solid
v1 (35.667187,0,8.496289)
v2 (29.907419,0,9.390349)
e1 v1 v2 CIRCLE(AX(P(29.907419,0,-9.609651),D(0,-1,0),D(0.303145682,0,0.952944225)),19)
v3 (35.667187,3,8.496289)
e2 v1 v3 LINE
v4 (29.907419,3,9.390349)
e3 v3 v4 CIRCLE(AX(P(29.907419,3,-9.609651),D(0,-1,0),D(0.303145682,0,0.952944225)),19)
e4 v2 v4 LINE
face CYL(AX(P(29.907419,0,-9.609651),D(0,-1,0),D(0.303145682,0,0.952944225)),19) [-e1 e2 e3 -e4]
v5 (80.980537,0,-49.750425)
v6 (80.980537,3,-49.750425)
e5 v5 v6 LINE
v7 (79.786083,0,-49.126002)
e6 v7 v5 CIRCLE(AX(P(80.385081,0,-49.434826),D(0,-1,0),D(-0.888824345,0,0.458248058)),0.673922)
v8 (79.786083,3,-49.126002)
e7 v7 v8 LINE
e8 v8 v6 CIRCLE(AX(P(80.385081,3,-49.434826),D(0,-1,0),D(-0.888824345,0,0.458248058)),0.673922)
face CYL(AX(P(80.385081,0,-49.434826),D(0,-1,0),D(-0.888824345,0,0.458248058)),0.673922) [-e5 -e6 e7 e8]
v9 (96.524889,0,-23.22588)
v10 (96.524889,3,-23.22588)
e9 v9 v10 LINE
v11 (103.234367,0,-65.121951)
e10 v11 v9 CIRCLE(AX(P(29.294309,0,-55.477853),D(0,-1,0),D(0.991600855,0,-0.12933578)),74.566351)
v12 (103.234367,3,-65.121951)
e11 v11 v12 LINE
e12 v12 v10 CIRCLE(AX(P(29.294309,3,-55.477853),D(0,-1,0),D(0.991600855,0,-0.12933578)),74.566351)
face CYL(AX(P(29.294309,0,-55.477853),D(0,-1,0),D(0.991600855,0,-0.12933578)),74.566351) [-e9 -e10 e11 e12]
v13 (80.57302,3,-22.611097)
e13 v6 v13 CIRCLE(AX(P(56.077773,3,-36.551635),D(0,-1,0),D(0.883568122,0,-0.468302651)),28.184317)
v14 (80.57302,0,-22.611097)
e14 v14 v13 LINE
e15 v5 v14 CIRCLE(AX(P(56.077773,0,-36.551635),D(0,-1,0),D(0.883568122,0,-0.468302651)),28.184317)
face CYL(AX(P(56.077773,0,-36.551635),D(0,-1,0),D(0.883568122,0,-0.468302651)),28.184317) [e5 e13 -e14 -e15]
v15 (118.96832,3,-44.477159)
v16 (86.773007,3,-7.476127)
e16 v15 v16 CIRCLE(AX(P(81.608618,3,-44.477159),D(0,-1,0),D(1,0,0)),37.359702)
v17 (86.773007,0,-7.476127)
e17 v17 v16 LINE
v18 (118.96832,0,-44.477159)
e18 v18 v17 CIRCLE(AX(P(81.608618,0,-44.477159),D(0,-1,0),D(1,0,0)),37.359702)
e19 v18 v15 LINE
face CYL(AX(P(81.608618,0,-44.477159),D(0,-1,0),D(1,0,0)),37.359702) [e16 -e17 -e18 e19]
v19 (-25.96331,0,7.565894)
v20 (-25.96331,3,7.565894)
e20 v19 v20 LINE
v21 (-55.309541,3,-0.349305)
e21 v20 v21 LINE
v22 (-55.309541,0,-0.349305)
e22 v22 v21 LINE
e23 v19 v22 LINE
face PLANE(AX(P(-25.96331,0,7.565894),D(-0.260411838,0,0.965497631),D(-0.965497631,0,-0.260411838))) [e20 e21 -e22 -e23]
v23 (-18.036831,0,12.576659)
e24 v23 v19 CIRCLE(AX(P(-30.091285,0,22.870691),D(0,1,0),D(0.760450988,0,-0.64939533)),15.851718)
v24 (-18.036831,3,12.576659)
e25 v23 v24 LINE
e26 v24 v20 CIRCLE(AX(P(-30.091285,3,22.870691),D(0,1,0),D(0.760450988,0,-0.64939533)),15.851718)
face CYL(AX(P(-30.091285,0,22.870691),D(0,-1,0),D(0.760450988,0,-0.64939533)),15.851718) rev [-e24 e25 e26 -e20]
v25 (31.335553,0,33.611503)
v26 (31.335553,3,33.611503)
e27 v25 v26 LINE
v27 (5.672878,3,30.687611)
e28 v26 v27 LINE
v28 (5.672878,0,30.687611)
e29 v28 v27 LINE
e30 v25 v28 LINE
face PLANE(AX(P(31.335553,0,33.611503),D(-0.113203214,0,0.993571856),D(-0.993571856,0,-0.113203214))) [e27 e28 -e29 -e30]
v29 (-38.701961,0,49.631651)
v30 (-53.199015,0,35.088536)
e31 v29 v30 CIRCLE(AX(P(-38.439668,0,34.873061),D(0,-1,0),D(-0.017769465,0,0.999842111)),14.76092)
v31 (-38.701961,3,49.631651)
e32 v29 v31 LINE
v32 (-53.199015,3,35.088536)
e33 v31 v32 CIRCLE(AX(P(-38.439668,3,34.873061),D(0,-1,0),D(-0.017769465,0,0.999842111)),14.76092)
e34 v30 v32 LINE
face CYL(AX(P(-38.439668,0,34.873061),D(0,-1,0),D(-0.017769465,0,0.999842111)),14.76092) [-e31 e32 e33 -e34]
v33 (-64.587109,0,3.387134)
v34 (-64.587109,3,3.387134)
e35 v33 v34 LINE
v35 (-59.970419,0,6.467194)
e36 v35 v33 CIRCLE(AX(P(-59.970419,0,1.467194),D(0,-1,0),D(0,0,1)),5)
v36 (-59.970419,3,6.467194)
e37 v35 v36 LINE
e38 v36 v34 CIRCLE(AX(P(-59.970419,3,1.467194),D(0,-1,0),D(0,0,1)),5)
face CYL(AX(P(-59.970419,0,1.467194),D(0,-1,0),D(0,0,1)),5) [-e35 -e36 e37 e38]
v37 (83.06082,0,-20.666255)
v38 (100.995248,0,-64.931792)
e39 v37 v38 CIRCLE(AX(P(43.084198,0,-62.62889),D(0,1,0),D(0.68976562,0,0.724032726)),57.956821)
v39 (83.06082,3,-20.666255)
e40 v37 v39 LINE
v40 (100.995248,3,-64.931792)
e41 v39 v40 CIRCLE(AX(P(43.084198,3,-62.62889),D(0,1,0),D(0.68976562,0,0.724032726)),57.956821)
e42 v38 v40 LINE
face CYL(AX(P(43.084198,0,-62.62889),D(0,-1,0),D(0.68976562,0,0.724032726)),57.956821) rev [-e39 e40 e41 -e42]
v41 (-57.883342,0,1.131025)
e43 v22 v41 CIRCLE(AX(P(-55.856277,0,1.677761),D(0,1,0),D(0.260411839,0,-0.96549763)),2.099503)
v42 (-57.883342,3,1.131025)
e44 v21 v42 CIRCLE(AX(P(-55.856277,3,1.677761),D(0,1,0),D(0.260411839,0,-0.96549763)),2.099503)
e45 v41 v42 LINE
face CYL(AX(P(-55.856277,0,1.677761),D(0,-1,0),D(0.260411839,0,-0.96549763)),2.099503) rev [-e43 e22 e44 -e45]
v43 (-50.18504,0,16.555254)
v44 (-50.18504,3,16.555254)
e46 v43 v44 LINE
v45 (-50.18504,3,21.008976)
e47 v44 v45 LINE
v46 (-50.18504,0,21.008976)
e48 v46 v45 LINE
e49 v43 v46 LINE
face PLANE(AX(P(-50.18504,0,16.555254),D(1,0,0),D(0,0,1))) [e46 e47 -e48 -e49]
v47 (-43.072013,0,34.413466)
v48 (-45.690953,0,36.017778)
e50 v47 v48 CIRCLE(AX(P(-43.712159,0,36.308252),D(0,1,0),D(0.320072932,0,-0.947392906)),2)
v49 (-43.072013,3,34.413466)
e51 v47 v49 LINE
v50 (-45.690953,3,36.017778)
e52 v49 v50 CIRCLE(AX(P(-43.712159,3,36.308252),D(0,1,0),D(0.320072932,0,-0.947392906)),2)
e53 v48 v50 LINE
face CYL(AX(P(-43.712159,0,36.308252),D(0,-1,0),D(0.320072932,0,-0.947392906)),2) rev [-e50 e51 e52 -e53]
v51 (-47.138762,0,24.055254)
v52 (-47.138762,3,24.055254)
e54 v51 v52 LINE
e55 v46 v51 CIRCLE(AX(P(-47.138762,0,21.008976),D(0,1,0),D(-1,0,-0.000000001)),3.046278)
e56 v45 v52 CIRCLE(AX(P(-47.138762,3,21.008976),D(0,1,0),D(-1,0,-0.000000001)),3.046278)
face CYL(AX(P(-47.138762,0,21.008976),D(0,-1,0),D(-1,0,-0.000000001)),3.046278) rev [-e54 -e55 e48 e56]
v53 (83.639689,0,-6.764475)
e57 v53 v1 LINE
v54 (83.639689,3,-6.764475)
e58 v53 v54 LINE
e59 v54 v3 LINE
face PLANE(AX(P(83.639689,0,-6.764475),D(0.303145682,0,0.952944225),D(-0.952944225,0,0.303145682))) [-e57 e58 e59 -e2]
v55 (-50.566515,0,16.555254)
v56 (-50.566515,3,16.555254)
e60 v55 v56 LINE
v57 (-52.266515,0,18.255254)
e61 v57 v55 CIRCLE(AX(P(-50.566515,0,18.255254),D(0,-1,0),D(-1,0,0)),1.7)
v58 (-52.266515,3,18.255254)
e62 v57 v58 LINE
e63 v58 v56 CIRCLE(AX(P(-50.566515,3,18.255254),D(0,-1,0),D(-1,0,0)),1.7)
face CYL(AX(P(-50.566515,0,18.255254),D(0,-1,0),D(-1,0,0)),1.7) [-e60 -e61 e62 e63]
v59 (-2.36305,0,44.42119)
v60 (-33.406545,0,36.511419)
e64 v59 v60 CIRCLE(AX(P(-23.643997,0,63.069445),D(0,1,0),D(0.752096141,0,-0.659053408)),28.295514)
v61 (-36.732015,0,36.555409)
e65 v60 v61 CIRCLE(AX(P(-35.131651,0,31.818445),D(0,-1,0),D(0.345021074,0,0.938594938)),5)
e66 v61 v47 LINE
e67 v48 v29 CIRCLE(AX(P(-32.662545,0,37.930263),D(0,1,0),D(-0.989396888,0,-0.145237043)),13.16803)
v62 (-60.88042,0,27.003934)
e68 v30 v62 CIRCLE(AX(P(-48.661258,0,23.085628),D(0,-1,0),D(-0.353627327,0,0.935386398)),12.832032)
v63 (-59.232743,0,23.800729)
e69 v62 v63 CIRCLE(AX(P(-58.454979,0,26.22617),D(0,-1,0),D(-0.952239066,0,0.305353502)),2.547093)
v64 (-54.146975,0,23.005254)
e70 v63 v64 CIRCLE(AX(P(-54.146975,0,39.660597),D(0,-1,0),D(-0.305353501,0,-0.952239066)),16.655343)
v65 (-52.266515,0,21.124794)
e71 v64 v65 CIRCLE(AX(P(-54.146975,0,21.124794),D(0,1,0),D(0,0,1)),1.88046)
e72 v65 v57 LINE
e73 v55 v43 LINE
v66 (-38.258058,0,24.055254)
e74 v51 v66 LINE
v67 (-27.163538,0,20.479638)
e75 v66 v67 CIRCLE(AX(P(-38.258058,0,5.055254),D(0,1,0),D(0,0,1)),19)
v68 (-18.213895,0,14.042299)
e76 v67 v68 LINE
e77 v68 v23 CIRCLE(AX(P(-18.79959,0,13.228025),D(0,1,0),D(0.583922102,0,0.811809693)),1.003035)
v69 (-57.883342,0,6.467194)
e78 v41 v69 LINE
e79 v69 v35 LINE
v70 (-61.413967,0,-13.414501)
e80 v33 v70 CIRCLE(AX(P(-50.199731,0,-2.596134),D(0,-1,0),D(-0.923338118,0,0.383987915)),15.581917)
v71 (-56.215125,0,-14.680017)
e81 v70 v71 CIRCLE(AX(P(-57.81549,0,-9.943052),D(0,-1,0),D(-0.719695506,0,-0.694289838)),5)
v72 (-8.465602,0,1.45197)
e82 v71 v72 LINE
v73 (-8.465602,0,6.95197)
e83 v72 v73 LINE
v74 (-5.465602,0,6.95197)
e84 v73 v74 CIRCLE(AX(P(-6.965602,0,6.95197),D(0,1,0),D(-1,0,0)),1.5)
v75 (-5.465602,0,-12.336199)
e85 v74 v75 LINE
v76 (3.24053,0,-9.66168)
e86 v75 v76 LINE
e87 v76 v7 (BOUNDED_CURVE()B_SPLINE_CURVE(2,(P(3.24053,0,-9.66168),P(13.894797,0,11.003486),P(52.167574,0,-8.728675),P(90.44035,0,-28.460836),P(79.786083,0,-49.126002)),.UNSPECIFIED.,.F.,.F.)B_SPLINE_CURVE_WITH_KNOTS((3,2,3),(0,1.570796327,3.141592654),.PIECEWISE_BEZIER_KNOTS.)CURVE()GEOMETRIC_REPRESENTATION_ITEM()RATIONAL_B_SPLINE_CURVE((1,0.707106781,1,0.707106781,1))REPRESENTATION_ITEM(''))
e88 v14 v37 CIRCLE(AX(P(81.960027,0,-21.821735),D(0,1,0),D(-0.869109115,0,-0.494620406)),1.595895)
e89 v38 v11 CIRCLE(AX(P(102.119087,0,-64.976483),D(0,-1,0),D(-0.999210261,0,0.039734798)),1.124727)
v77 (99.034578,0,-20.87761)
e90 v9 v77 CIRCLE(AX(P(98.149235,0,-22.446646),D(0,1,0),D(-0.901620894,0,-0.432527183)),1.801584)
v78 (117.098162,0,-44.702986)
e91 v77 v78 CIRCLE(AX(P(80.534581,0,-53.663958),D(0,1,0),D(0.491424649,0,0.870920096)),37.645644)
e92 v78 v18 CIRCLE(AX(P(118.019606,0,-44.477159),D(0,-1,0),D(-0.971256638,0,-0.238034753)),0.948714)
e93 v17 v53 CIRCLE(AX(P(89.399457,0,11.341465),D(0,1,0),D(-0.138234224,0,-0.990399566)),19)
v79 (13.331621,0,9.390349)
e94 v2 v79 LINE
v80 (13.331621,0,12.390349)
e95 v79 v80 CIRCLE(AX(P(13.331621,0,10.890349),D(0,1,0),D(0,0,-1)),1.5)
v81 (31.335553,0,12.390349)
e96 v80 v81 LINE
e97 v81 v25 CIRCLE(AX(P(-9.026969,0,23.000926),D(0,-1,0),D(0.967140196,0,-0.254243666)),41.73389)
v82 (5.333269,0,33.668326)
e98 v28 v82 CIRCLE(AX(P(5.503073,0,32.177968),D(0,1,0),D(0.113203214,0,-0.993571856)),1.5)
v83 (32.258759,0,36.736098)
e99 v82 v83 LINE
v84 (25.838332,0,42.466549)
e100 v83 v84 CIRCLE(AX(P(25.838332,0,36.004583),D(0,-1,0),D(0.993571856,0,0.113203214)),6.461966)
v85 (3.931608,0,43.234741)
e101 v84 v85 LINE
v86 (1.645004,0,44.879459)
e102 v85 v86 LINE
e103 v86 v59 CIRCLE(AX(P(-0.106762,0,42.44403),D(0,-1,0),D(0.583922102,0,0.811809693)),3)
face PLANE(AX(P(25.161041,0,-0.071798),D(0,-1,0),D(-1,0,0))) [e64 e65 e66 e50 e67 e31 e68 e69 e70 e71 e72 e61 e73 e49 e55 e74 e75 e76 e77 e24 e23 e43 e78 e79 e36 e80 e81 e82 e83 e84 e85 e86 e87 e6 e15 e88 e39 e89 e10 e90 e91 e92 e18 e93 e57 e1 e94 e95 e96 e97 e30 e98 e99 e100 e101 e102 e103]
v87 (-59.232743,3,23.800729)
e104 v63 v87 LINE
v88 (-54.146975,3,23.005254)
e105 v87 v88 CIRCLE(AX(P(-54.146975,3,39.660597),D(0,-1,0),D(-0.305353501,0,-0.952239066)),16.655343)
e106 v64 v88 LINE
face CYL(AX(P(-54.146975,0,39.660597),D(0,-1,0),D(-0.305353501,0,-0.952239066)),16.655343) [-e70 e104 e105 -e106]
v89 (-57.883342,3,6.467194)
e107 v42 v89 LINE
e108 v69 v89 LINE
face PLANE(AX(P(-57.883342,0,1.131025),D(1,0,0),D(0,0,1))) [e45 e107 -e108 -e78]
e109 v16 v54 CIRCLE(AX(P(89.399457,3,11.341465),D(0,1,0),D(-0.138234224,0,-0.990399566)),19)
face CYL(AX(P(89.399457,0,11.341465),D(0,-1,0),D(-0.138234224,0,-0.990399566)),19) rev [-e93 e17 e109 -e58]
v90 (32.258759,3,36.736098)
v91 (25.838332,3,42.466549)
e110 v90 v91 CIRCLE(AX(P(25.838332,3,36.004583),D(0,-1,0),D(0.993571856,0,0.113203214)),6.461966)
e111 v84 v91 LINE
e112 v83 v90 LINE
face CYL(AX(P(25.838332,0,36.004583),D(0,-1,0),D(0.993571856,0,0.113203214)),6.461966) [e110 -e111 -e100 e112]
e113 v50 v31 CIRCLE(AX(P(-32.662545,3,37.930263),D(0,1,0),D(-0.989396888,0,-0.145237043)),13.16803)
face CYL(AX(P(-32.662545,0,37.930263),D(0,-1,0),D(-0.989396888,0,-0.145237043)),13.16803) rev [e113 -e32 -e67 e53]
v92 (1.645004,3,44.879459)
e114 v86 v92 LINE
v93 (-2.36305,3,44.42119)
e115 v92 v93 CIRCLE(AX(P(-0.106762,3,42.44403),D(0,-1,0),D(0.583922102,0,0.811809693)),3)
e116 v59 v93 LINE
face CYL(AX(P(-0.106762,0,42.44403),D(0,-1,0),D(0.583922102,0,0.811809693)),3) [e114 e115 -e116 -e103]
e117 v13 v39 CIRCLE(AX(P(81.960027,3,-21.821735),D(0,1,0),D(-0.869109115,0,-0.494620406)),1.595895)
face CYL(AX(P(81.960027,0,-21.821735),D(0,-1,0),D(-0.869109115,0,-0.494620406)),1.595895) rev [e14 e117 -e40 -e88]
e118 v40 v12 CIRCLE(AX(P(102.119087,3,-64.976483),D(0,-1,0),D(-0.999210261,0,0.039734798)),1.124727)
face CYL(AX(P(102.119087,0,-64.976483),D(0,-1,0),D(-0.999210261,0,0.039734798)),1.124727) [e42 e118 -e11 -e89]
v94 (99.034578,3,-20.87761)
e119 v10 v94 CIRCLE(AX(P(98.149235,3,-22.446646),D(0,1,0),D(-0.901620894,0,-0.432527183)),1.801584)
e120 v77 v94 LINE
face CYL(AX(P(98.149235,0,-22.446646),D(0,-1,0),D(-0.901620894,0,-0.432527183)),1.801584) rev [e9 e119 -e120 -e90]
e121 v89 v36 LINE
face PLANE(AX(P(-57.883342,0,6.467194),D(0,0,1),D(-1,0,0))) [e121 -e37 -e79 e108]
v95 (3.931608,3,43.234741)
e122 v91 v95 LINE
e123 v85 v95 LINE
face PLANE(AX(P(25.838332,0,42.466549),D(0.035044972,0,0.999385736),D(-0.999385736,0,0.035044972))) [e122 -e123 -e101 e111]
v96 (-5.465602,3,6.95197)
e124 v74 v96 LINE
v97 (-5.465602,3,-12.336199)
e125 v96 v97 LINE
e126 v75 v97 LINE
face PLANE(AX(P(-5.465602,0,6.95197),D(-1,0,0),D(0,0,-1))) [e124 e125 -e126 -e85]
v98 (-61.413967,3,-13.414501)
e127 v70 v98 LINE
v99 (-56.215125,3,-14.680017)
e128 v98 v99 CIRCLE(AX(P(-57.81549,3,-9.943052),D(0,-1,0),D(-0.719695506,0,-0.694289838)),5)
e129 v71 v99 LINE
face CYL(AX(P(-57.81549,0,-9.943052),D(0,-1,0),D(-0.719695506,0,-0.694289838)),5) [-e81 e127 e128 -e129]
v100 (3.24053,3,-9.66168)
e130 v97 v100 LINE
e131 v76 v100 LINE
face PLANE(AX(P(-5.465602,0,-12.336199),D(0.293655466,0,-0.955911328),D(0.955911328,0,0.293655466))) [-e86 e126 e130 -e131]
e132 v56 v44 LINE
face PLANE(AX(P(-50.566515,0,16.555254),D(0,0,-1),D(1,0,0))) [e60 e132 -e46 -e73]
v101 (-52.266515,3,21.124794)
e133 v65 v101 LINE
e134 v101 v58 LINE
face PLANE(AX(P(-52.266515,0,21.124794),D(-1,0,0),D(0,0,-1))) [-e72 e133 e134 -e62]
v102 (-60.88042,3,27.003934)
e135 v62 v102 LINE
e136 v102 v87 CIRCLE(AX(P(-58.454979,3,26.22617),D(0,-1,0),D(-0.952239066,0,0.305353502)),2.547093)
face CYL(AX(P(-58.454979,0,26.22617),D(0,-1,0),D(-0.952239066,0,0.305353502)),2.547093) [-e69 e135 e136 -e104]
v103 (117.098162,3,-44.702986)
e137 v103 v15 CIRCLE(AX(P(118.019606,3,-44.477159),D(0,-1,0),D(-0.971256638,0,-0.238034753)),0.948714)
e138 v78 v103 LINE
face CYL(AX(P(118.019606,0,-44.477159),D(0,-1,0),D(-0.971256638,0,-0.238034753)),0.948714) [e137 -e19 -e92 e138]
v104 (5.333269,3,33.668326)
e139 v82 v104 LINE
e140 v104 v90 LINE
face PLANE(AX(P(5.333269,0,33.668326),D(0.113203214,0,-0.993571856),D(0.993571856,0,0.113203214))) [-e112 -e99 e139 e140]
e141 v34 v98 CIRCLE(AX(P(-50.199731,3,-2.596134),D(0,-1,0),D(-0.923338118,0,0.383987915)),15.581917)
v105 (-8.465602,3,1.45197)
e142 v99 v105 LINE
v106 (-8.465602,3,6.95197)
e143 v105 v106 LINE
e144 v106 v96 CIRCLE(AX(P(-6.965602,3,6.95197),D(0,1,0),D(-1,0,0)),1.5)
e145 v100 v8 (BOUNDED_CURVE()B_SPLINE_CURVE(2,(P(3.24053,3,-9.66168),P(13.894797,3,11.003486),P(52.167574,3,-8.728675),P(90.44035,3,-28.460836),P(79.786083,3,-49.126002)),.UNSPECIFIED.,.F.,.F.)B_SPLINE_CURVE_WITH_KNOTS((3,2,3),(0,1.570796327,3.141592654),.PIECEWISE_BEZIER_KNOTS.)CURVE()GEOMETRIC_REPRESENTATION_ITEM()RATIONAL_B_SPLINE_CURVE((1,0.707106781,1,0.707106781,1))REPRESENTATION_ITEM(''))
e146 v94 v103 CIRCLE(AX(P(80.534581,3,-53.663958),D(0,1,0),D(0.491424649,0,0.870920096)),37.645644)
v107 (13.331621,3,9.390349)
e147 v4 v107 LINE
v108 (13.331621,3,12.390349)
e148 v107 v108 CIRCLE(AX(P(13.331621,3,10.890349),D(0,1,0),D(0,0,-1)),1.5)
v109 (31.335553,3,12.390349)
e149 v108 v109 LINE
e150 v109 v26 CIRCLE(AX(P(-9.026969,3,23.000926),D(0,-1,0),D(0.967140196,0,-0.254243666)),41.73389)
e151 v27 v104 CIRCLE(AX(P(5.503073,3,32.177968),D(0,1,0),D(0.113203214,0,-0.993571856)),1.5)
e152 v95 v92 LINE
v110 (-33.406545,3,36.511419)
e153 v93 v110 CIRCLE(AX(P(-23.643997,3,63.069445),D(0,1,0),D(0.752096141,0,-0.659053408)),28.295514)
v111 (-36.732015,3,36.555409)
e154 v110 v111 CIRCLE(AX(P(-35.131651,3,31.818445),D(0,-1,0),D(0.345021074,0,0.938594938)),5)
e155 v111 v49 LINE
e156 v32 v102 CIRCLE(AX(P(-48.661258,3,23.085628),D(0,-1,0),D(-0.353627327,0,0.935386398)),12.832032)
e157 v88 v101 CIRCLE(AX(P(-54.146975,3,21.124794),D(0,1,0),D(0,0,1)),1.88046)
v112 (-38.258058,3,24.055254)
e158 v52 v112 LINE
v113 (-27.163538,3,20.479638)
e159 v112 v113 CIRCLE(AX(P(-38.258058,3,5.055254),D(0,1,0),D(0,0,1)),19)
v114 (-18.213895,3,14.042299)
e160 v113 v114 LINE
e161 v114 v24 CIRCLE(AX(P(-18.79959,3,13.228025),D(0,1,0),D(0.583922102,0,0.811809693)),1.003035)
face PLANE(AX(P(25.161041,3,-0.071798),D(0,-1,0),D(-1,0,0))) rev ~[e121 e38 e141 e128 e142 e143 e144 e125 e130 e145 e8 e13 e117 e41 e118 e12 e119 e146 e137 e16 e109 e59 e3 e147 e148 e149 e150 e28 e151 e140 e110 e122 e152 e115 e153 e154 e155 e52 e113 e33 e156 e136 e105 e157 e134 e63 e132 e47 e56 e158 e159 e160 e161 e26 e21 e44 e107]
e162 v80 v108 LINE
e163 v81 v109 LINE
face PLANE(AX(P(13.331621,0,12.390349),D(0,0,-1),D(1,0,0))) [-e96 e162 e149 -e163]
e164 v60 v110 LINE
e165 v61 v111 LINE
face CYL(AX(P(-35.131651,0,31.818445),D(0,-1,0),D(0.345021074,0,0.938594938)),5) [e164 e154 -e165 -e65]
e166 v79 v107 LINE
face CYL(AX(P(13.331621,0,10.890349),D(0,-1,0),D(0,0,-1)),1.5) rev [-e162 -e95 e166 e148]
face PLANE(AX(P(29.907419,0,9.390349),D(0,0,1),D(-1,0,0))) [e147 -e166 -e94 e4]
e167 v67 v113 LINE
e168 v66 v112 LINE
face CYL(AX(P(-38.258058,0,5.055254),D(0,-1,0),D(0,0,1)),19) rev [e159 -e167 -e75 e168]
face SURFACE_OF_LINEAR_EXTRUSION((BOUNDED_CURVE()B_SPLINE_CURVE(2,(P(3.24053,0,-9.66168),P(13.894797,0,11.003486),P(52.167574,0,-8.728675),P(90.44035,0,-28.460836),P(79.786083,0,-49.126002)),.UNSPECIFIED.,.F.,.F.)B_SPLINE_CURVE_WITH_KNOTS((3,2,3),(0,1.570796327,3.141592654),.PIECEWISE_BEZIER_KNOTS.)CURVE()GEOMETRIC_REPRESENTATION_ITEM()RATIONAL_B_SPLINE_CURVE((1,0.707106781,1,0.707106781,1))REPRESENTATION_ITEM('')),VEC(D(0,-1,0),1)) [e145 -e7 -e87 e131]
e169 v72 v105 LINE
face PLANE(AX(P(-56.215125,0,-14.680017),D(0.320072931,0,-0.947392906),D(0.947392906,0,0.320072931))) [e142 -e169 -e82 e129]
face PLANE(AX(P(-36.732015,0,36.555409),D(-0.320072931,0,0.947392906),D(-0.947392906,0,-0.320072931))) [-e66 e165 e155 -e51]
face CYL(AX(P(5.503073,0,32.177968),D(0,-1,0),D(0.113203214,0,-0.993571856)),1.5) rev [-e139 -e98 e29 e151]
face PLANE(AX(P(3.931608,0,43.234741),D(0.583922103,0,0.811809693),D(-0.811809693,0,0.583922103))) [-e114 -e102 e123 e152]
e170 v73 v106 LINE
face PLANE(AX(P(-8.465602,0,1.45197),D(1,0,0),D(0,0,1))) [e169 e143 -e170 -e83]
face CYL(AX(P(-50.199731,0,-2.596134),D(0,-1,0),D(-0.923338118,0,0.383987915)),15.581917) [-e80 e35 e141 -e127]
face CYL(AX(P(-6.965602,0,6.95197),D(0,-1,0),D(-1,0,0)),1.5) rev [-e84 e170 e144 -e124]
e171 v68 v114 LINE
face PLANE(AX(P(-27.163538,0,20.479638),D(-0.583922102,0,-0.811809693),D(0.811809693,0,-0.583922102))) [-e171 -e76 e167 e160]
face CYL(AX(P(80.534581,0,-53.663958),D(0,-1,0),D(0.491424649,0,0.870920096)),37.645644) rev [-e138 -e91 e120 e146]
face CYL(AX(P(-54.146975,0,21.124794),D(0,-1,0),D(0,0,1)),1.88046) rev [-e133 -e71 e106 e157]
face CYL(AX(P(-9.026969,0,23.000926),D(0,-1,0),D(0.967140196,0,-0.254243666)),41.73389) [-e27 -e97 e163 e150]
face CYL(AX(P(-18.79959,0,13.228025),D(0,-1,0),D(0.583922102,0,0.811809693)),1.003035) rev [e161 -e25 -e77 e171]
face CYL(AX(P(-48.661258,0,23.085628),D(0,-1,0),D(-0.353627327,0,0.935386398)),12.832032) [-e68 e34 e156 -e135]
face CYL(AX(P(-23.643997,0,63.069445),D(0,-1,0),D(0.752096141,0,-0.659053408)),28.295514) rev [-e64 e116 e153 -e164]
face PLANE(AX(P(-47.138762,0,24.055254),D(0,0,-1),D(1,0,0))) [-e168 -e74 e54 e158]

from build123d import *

# Parameters (mm, degrees)
BOSS_EXTRUDE2_DEPTH = 3


with BuildPart() as part:
    # Sketch1 → Boss-Extrude2 (new body)
    with BuildSketch(Plane(origin=(0, 0, 0), x_dir=(1, 0, 0), z_dir=(0, 1, 0))):
        with BuildLine():
            Line((83.639689367, 6.764475065), (35.667186692, -8.49628906))
            ThreePointArc((35.667186692, -8.49628906), (32.821791297, -9.165503452), (29.907418735, -9.39034879))
            Line((29.907418735, -9.39034879), (13.331621464, -9.39034879))
            ThreePointArc((13.331621464, -9.39034879), (11.831621464, -10.89034879), (13.331621464, -12.39034879))
            Line((13.331621464, -12.39034879), (31.335553361, -12.39034879))
            ThreePointArc((31.335553361, -12.39034879), (32.706920816, -23.000925987), (31.335553361, -33.611503185))
            Line((31.335553361, -33.611503185), (5.672878156, -30.687610674))
            ThreePointArc((5.672878156, -30.687610674), (4.012715552, -32.008163637), (5.333268515, -33.668326241))
            Line((5.333268515, -33.668326241), (32.258758745, -36.73609835))
            ThreePointArc((32.258758745, -36.73609835), (30.141236011, -40.825580171), (25.83833159, -42.466548678))
            Line((25.83833159, -42.466548678), (3.931607644, -43.234741077))
            Line((3.931607644, -43.234741077), (1.645004408, -44.879459267))
            ThreePointArc((1.645004408, -44.879459267), (-0.44755249, -45.424610965), (-2.363050322, -44.421190413))
            ThreePointArc((-2.363050322, -44.421190413), (-16.657617756, -35.649988568), (-33.406545395, -36.511419261))
            ThreePointArc((-33.406545395, -36.511419261), (-35.065515769, -36.818007167), (-36.732015424, -36.555409102))
            Line((-36.732015424, -36.555409102), (-43.072013441, -34.41346595))
            ThreePointArc((-43.072013441, -34.41346595), (-44.756883472, -34.602804193), (-45.690953078, -36.017777677))
            ThreePointArc((-45.690953078, -36.017777677), (-44.377060251, -43.944176391), (-38.701961301, -49.631650596))
            ThreePointArc((-38.701961301, -49.631650596), (-48.89375638, -45.294039559), (-53.199015105, -35.088535957))
            ThreePointArc((-53.199015105, -35.088535957), (-57.963880411, -31.924307539), (-60.880420097, -27.003933658))
            ThreePointArc((-60.880420097, -27.003933658), (-60.719986784, -25.061085947), (-59.232742508, -23.80072864))
            ThreePointArc((-59.232742508, -23.80072864), (-56.720776297, -23.205324241), (-54.14697512, -23.005253893))
            ThreePointArc((-54.14697512, -23.005253893), (-52.817288904, -22.454479829), (-52.26651484, -21.124793613))
            Line((-52.26651484, -21.124793613), (-52.26651484, -18.255253893))
            ThreePointArc((-52.26651484, -18.255253893), (-51.768596368, -17.053172365), (-50.56651484, -16.555253893))
            Line((-50.56651484, -16.555253893), (-50.18504008, -16.555253893))
            Line((-50.18504008, -16.555253893), (-50.18504008, -21.008976099))
            ThreePointArc((-50.18504008, -21.008976099), (-49.292805972, -23.163019785), (-47.138762286, -24.055253893))
            Line((-47.138762286, -24.055253893), (-38.258057554, -24.055253893))
            ThreePointArc((-38.258057554, -24.055253893), (-32.429820226, -23.139270307), (-27.163537606, -20.479638066))
            Line((-27.163537606, -20.479638066), (-18.213895237, -14.042299326))
            ThreePointArc((-18.213895237, -14.042299326), (-17.803794916, -13.348327859), (-18.036830501, -12.576658832))
            ThreePointArc((-18.036830501, -12.576658832), (-21.621060958, -9.471725354), (-25.963310125, -7.565894288))
            Line((-25.963310125, -7.565894288), (-55.30954126, 0.349304832))
            ThreePointArc((-55.30954126, 0.349304832), (-56.903028243, 0.142191478), (-57.883342437, -1.131025232))
            Line((-57.883342437, -1.131025232), (-57.883342437, -6.467193959))
            Line((-57.883342437, -6.467193959), (-59.970418868, -6.467193959))
            ThreePointArc((-59.970418868, -6.467193959), (-62.745333472, -5.626502668), (-64.58710946, -3.387133535))
            ThreePointArc((-64.58710946, -3.387133535), (-65.510981808, 5.487804074), (-61.413967112, 13.414501258))
            ThreePointArc((-61.413967112, 13.414501258), (-58.998069827, 14.801189981), (-56.215124926, 14.680016601))
            Line((-56.215124926, 14.680016601), (-8.465601761, -1.451970173))
            Line((-8.465601761, -1.451970173), (-8.465601761, -6.951970173))
            ThreePointArc((-8.465601761, -6.951970173), (-6.965601761, -8.451970173), (-5.465601761, -6.951970173))
            Line((-5.465601761, -6.951970173), (-5.465601761, 12.336199013))
            Line((-5.465601761, 12.336199013), (3.240530108, 9.661679805))
            add(Edge.make_bspline(
                [(3.240530108, 9.661679805), (13.894797432, -11.003486244), (52.167573777, 8.728675087), (90.440350123, 28.460836418), (79.7860828, 49.126002466)],
                knots=[0, 0, 0, 1.570796327, 1.570796327, 3.141592654, 3.141592654, 3.141592654], degree=2, weights=[1, 0.707106781, 1, 0.707106781, 1]))
            ThreePointArc((79.7860828, 49.126002466), (80.072864648, 50.032062802), (80.980537261, 49.750425469))
            ThreePointArc((80.980537261, 49.750425469), (84.258913327, 36.128474368), (80.573020022, 22.611096962))
            ThreePointArc((80.573020022, 22.611096962), (80.977131886, 20.56443692), (83.060820169, 20.666254716))
            ThreePointArc((83.060820169, 20.666254716), (96.799731472, 40.865743936), (100.995247842, 64.931792447))
            ThreePointArc((100.995247842, 64.931792447), (102.023911204, 66.097176073), (103.234366802, 65.121950687))
            ThreePointArc((103.234366802, 65.121950687), (102.922479327, 43.686615501), (96.524889391, 23.225879655))
            ThreePointArc((96.524889391, 23.225879655), (96.918331366, 21.131130375), (99.034577715, 20.877610113))
            ThreePointArc((99.034577715, 20.877610113), (110.533106389, 30.92010294), (117.098161764, 44.70298623))
            ThreePointArc((117.098161764, 44.70298623), (118.133339849, 45.419031095), (118.968319872, 44.477159407))
            ThreePointArc((118.968319872, 44.477159407), (109.792721336, 19.953626833), (86.773007072, 7.476126539))
            ThreePointArc((86.773007072, 7.476126539), (85.19127768, 7.186654615), (83.639689367, 6.764475065))
        make_face()
    extrude(amount=BOSS_EXTRUDE2_DEPTH)


solid = part.part
